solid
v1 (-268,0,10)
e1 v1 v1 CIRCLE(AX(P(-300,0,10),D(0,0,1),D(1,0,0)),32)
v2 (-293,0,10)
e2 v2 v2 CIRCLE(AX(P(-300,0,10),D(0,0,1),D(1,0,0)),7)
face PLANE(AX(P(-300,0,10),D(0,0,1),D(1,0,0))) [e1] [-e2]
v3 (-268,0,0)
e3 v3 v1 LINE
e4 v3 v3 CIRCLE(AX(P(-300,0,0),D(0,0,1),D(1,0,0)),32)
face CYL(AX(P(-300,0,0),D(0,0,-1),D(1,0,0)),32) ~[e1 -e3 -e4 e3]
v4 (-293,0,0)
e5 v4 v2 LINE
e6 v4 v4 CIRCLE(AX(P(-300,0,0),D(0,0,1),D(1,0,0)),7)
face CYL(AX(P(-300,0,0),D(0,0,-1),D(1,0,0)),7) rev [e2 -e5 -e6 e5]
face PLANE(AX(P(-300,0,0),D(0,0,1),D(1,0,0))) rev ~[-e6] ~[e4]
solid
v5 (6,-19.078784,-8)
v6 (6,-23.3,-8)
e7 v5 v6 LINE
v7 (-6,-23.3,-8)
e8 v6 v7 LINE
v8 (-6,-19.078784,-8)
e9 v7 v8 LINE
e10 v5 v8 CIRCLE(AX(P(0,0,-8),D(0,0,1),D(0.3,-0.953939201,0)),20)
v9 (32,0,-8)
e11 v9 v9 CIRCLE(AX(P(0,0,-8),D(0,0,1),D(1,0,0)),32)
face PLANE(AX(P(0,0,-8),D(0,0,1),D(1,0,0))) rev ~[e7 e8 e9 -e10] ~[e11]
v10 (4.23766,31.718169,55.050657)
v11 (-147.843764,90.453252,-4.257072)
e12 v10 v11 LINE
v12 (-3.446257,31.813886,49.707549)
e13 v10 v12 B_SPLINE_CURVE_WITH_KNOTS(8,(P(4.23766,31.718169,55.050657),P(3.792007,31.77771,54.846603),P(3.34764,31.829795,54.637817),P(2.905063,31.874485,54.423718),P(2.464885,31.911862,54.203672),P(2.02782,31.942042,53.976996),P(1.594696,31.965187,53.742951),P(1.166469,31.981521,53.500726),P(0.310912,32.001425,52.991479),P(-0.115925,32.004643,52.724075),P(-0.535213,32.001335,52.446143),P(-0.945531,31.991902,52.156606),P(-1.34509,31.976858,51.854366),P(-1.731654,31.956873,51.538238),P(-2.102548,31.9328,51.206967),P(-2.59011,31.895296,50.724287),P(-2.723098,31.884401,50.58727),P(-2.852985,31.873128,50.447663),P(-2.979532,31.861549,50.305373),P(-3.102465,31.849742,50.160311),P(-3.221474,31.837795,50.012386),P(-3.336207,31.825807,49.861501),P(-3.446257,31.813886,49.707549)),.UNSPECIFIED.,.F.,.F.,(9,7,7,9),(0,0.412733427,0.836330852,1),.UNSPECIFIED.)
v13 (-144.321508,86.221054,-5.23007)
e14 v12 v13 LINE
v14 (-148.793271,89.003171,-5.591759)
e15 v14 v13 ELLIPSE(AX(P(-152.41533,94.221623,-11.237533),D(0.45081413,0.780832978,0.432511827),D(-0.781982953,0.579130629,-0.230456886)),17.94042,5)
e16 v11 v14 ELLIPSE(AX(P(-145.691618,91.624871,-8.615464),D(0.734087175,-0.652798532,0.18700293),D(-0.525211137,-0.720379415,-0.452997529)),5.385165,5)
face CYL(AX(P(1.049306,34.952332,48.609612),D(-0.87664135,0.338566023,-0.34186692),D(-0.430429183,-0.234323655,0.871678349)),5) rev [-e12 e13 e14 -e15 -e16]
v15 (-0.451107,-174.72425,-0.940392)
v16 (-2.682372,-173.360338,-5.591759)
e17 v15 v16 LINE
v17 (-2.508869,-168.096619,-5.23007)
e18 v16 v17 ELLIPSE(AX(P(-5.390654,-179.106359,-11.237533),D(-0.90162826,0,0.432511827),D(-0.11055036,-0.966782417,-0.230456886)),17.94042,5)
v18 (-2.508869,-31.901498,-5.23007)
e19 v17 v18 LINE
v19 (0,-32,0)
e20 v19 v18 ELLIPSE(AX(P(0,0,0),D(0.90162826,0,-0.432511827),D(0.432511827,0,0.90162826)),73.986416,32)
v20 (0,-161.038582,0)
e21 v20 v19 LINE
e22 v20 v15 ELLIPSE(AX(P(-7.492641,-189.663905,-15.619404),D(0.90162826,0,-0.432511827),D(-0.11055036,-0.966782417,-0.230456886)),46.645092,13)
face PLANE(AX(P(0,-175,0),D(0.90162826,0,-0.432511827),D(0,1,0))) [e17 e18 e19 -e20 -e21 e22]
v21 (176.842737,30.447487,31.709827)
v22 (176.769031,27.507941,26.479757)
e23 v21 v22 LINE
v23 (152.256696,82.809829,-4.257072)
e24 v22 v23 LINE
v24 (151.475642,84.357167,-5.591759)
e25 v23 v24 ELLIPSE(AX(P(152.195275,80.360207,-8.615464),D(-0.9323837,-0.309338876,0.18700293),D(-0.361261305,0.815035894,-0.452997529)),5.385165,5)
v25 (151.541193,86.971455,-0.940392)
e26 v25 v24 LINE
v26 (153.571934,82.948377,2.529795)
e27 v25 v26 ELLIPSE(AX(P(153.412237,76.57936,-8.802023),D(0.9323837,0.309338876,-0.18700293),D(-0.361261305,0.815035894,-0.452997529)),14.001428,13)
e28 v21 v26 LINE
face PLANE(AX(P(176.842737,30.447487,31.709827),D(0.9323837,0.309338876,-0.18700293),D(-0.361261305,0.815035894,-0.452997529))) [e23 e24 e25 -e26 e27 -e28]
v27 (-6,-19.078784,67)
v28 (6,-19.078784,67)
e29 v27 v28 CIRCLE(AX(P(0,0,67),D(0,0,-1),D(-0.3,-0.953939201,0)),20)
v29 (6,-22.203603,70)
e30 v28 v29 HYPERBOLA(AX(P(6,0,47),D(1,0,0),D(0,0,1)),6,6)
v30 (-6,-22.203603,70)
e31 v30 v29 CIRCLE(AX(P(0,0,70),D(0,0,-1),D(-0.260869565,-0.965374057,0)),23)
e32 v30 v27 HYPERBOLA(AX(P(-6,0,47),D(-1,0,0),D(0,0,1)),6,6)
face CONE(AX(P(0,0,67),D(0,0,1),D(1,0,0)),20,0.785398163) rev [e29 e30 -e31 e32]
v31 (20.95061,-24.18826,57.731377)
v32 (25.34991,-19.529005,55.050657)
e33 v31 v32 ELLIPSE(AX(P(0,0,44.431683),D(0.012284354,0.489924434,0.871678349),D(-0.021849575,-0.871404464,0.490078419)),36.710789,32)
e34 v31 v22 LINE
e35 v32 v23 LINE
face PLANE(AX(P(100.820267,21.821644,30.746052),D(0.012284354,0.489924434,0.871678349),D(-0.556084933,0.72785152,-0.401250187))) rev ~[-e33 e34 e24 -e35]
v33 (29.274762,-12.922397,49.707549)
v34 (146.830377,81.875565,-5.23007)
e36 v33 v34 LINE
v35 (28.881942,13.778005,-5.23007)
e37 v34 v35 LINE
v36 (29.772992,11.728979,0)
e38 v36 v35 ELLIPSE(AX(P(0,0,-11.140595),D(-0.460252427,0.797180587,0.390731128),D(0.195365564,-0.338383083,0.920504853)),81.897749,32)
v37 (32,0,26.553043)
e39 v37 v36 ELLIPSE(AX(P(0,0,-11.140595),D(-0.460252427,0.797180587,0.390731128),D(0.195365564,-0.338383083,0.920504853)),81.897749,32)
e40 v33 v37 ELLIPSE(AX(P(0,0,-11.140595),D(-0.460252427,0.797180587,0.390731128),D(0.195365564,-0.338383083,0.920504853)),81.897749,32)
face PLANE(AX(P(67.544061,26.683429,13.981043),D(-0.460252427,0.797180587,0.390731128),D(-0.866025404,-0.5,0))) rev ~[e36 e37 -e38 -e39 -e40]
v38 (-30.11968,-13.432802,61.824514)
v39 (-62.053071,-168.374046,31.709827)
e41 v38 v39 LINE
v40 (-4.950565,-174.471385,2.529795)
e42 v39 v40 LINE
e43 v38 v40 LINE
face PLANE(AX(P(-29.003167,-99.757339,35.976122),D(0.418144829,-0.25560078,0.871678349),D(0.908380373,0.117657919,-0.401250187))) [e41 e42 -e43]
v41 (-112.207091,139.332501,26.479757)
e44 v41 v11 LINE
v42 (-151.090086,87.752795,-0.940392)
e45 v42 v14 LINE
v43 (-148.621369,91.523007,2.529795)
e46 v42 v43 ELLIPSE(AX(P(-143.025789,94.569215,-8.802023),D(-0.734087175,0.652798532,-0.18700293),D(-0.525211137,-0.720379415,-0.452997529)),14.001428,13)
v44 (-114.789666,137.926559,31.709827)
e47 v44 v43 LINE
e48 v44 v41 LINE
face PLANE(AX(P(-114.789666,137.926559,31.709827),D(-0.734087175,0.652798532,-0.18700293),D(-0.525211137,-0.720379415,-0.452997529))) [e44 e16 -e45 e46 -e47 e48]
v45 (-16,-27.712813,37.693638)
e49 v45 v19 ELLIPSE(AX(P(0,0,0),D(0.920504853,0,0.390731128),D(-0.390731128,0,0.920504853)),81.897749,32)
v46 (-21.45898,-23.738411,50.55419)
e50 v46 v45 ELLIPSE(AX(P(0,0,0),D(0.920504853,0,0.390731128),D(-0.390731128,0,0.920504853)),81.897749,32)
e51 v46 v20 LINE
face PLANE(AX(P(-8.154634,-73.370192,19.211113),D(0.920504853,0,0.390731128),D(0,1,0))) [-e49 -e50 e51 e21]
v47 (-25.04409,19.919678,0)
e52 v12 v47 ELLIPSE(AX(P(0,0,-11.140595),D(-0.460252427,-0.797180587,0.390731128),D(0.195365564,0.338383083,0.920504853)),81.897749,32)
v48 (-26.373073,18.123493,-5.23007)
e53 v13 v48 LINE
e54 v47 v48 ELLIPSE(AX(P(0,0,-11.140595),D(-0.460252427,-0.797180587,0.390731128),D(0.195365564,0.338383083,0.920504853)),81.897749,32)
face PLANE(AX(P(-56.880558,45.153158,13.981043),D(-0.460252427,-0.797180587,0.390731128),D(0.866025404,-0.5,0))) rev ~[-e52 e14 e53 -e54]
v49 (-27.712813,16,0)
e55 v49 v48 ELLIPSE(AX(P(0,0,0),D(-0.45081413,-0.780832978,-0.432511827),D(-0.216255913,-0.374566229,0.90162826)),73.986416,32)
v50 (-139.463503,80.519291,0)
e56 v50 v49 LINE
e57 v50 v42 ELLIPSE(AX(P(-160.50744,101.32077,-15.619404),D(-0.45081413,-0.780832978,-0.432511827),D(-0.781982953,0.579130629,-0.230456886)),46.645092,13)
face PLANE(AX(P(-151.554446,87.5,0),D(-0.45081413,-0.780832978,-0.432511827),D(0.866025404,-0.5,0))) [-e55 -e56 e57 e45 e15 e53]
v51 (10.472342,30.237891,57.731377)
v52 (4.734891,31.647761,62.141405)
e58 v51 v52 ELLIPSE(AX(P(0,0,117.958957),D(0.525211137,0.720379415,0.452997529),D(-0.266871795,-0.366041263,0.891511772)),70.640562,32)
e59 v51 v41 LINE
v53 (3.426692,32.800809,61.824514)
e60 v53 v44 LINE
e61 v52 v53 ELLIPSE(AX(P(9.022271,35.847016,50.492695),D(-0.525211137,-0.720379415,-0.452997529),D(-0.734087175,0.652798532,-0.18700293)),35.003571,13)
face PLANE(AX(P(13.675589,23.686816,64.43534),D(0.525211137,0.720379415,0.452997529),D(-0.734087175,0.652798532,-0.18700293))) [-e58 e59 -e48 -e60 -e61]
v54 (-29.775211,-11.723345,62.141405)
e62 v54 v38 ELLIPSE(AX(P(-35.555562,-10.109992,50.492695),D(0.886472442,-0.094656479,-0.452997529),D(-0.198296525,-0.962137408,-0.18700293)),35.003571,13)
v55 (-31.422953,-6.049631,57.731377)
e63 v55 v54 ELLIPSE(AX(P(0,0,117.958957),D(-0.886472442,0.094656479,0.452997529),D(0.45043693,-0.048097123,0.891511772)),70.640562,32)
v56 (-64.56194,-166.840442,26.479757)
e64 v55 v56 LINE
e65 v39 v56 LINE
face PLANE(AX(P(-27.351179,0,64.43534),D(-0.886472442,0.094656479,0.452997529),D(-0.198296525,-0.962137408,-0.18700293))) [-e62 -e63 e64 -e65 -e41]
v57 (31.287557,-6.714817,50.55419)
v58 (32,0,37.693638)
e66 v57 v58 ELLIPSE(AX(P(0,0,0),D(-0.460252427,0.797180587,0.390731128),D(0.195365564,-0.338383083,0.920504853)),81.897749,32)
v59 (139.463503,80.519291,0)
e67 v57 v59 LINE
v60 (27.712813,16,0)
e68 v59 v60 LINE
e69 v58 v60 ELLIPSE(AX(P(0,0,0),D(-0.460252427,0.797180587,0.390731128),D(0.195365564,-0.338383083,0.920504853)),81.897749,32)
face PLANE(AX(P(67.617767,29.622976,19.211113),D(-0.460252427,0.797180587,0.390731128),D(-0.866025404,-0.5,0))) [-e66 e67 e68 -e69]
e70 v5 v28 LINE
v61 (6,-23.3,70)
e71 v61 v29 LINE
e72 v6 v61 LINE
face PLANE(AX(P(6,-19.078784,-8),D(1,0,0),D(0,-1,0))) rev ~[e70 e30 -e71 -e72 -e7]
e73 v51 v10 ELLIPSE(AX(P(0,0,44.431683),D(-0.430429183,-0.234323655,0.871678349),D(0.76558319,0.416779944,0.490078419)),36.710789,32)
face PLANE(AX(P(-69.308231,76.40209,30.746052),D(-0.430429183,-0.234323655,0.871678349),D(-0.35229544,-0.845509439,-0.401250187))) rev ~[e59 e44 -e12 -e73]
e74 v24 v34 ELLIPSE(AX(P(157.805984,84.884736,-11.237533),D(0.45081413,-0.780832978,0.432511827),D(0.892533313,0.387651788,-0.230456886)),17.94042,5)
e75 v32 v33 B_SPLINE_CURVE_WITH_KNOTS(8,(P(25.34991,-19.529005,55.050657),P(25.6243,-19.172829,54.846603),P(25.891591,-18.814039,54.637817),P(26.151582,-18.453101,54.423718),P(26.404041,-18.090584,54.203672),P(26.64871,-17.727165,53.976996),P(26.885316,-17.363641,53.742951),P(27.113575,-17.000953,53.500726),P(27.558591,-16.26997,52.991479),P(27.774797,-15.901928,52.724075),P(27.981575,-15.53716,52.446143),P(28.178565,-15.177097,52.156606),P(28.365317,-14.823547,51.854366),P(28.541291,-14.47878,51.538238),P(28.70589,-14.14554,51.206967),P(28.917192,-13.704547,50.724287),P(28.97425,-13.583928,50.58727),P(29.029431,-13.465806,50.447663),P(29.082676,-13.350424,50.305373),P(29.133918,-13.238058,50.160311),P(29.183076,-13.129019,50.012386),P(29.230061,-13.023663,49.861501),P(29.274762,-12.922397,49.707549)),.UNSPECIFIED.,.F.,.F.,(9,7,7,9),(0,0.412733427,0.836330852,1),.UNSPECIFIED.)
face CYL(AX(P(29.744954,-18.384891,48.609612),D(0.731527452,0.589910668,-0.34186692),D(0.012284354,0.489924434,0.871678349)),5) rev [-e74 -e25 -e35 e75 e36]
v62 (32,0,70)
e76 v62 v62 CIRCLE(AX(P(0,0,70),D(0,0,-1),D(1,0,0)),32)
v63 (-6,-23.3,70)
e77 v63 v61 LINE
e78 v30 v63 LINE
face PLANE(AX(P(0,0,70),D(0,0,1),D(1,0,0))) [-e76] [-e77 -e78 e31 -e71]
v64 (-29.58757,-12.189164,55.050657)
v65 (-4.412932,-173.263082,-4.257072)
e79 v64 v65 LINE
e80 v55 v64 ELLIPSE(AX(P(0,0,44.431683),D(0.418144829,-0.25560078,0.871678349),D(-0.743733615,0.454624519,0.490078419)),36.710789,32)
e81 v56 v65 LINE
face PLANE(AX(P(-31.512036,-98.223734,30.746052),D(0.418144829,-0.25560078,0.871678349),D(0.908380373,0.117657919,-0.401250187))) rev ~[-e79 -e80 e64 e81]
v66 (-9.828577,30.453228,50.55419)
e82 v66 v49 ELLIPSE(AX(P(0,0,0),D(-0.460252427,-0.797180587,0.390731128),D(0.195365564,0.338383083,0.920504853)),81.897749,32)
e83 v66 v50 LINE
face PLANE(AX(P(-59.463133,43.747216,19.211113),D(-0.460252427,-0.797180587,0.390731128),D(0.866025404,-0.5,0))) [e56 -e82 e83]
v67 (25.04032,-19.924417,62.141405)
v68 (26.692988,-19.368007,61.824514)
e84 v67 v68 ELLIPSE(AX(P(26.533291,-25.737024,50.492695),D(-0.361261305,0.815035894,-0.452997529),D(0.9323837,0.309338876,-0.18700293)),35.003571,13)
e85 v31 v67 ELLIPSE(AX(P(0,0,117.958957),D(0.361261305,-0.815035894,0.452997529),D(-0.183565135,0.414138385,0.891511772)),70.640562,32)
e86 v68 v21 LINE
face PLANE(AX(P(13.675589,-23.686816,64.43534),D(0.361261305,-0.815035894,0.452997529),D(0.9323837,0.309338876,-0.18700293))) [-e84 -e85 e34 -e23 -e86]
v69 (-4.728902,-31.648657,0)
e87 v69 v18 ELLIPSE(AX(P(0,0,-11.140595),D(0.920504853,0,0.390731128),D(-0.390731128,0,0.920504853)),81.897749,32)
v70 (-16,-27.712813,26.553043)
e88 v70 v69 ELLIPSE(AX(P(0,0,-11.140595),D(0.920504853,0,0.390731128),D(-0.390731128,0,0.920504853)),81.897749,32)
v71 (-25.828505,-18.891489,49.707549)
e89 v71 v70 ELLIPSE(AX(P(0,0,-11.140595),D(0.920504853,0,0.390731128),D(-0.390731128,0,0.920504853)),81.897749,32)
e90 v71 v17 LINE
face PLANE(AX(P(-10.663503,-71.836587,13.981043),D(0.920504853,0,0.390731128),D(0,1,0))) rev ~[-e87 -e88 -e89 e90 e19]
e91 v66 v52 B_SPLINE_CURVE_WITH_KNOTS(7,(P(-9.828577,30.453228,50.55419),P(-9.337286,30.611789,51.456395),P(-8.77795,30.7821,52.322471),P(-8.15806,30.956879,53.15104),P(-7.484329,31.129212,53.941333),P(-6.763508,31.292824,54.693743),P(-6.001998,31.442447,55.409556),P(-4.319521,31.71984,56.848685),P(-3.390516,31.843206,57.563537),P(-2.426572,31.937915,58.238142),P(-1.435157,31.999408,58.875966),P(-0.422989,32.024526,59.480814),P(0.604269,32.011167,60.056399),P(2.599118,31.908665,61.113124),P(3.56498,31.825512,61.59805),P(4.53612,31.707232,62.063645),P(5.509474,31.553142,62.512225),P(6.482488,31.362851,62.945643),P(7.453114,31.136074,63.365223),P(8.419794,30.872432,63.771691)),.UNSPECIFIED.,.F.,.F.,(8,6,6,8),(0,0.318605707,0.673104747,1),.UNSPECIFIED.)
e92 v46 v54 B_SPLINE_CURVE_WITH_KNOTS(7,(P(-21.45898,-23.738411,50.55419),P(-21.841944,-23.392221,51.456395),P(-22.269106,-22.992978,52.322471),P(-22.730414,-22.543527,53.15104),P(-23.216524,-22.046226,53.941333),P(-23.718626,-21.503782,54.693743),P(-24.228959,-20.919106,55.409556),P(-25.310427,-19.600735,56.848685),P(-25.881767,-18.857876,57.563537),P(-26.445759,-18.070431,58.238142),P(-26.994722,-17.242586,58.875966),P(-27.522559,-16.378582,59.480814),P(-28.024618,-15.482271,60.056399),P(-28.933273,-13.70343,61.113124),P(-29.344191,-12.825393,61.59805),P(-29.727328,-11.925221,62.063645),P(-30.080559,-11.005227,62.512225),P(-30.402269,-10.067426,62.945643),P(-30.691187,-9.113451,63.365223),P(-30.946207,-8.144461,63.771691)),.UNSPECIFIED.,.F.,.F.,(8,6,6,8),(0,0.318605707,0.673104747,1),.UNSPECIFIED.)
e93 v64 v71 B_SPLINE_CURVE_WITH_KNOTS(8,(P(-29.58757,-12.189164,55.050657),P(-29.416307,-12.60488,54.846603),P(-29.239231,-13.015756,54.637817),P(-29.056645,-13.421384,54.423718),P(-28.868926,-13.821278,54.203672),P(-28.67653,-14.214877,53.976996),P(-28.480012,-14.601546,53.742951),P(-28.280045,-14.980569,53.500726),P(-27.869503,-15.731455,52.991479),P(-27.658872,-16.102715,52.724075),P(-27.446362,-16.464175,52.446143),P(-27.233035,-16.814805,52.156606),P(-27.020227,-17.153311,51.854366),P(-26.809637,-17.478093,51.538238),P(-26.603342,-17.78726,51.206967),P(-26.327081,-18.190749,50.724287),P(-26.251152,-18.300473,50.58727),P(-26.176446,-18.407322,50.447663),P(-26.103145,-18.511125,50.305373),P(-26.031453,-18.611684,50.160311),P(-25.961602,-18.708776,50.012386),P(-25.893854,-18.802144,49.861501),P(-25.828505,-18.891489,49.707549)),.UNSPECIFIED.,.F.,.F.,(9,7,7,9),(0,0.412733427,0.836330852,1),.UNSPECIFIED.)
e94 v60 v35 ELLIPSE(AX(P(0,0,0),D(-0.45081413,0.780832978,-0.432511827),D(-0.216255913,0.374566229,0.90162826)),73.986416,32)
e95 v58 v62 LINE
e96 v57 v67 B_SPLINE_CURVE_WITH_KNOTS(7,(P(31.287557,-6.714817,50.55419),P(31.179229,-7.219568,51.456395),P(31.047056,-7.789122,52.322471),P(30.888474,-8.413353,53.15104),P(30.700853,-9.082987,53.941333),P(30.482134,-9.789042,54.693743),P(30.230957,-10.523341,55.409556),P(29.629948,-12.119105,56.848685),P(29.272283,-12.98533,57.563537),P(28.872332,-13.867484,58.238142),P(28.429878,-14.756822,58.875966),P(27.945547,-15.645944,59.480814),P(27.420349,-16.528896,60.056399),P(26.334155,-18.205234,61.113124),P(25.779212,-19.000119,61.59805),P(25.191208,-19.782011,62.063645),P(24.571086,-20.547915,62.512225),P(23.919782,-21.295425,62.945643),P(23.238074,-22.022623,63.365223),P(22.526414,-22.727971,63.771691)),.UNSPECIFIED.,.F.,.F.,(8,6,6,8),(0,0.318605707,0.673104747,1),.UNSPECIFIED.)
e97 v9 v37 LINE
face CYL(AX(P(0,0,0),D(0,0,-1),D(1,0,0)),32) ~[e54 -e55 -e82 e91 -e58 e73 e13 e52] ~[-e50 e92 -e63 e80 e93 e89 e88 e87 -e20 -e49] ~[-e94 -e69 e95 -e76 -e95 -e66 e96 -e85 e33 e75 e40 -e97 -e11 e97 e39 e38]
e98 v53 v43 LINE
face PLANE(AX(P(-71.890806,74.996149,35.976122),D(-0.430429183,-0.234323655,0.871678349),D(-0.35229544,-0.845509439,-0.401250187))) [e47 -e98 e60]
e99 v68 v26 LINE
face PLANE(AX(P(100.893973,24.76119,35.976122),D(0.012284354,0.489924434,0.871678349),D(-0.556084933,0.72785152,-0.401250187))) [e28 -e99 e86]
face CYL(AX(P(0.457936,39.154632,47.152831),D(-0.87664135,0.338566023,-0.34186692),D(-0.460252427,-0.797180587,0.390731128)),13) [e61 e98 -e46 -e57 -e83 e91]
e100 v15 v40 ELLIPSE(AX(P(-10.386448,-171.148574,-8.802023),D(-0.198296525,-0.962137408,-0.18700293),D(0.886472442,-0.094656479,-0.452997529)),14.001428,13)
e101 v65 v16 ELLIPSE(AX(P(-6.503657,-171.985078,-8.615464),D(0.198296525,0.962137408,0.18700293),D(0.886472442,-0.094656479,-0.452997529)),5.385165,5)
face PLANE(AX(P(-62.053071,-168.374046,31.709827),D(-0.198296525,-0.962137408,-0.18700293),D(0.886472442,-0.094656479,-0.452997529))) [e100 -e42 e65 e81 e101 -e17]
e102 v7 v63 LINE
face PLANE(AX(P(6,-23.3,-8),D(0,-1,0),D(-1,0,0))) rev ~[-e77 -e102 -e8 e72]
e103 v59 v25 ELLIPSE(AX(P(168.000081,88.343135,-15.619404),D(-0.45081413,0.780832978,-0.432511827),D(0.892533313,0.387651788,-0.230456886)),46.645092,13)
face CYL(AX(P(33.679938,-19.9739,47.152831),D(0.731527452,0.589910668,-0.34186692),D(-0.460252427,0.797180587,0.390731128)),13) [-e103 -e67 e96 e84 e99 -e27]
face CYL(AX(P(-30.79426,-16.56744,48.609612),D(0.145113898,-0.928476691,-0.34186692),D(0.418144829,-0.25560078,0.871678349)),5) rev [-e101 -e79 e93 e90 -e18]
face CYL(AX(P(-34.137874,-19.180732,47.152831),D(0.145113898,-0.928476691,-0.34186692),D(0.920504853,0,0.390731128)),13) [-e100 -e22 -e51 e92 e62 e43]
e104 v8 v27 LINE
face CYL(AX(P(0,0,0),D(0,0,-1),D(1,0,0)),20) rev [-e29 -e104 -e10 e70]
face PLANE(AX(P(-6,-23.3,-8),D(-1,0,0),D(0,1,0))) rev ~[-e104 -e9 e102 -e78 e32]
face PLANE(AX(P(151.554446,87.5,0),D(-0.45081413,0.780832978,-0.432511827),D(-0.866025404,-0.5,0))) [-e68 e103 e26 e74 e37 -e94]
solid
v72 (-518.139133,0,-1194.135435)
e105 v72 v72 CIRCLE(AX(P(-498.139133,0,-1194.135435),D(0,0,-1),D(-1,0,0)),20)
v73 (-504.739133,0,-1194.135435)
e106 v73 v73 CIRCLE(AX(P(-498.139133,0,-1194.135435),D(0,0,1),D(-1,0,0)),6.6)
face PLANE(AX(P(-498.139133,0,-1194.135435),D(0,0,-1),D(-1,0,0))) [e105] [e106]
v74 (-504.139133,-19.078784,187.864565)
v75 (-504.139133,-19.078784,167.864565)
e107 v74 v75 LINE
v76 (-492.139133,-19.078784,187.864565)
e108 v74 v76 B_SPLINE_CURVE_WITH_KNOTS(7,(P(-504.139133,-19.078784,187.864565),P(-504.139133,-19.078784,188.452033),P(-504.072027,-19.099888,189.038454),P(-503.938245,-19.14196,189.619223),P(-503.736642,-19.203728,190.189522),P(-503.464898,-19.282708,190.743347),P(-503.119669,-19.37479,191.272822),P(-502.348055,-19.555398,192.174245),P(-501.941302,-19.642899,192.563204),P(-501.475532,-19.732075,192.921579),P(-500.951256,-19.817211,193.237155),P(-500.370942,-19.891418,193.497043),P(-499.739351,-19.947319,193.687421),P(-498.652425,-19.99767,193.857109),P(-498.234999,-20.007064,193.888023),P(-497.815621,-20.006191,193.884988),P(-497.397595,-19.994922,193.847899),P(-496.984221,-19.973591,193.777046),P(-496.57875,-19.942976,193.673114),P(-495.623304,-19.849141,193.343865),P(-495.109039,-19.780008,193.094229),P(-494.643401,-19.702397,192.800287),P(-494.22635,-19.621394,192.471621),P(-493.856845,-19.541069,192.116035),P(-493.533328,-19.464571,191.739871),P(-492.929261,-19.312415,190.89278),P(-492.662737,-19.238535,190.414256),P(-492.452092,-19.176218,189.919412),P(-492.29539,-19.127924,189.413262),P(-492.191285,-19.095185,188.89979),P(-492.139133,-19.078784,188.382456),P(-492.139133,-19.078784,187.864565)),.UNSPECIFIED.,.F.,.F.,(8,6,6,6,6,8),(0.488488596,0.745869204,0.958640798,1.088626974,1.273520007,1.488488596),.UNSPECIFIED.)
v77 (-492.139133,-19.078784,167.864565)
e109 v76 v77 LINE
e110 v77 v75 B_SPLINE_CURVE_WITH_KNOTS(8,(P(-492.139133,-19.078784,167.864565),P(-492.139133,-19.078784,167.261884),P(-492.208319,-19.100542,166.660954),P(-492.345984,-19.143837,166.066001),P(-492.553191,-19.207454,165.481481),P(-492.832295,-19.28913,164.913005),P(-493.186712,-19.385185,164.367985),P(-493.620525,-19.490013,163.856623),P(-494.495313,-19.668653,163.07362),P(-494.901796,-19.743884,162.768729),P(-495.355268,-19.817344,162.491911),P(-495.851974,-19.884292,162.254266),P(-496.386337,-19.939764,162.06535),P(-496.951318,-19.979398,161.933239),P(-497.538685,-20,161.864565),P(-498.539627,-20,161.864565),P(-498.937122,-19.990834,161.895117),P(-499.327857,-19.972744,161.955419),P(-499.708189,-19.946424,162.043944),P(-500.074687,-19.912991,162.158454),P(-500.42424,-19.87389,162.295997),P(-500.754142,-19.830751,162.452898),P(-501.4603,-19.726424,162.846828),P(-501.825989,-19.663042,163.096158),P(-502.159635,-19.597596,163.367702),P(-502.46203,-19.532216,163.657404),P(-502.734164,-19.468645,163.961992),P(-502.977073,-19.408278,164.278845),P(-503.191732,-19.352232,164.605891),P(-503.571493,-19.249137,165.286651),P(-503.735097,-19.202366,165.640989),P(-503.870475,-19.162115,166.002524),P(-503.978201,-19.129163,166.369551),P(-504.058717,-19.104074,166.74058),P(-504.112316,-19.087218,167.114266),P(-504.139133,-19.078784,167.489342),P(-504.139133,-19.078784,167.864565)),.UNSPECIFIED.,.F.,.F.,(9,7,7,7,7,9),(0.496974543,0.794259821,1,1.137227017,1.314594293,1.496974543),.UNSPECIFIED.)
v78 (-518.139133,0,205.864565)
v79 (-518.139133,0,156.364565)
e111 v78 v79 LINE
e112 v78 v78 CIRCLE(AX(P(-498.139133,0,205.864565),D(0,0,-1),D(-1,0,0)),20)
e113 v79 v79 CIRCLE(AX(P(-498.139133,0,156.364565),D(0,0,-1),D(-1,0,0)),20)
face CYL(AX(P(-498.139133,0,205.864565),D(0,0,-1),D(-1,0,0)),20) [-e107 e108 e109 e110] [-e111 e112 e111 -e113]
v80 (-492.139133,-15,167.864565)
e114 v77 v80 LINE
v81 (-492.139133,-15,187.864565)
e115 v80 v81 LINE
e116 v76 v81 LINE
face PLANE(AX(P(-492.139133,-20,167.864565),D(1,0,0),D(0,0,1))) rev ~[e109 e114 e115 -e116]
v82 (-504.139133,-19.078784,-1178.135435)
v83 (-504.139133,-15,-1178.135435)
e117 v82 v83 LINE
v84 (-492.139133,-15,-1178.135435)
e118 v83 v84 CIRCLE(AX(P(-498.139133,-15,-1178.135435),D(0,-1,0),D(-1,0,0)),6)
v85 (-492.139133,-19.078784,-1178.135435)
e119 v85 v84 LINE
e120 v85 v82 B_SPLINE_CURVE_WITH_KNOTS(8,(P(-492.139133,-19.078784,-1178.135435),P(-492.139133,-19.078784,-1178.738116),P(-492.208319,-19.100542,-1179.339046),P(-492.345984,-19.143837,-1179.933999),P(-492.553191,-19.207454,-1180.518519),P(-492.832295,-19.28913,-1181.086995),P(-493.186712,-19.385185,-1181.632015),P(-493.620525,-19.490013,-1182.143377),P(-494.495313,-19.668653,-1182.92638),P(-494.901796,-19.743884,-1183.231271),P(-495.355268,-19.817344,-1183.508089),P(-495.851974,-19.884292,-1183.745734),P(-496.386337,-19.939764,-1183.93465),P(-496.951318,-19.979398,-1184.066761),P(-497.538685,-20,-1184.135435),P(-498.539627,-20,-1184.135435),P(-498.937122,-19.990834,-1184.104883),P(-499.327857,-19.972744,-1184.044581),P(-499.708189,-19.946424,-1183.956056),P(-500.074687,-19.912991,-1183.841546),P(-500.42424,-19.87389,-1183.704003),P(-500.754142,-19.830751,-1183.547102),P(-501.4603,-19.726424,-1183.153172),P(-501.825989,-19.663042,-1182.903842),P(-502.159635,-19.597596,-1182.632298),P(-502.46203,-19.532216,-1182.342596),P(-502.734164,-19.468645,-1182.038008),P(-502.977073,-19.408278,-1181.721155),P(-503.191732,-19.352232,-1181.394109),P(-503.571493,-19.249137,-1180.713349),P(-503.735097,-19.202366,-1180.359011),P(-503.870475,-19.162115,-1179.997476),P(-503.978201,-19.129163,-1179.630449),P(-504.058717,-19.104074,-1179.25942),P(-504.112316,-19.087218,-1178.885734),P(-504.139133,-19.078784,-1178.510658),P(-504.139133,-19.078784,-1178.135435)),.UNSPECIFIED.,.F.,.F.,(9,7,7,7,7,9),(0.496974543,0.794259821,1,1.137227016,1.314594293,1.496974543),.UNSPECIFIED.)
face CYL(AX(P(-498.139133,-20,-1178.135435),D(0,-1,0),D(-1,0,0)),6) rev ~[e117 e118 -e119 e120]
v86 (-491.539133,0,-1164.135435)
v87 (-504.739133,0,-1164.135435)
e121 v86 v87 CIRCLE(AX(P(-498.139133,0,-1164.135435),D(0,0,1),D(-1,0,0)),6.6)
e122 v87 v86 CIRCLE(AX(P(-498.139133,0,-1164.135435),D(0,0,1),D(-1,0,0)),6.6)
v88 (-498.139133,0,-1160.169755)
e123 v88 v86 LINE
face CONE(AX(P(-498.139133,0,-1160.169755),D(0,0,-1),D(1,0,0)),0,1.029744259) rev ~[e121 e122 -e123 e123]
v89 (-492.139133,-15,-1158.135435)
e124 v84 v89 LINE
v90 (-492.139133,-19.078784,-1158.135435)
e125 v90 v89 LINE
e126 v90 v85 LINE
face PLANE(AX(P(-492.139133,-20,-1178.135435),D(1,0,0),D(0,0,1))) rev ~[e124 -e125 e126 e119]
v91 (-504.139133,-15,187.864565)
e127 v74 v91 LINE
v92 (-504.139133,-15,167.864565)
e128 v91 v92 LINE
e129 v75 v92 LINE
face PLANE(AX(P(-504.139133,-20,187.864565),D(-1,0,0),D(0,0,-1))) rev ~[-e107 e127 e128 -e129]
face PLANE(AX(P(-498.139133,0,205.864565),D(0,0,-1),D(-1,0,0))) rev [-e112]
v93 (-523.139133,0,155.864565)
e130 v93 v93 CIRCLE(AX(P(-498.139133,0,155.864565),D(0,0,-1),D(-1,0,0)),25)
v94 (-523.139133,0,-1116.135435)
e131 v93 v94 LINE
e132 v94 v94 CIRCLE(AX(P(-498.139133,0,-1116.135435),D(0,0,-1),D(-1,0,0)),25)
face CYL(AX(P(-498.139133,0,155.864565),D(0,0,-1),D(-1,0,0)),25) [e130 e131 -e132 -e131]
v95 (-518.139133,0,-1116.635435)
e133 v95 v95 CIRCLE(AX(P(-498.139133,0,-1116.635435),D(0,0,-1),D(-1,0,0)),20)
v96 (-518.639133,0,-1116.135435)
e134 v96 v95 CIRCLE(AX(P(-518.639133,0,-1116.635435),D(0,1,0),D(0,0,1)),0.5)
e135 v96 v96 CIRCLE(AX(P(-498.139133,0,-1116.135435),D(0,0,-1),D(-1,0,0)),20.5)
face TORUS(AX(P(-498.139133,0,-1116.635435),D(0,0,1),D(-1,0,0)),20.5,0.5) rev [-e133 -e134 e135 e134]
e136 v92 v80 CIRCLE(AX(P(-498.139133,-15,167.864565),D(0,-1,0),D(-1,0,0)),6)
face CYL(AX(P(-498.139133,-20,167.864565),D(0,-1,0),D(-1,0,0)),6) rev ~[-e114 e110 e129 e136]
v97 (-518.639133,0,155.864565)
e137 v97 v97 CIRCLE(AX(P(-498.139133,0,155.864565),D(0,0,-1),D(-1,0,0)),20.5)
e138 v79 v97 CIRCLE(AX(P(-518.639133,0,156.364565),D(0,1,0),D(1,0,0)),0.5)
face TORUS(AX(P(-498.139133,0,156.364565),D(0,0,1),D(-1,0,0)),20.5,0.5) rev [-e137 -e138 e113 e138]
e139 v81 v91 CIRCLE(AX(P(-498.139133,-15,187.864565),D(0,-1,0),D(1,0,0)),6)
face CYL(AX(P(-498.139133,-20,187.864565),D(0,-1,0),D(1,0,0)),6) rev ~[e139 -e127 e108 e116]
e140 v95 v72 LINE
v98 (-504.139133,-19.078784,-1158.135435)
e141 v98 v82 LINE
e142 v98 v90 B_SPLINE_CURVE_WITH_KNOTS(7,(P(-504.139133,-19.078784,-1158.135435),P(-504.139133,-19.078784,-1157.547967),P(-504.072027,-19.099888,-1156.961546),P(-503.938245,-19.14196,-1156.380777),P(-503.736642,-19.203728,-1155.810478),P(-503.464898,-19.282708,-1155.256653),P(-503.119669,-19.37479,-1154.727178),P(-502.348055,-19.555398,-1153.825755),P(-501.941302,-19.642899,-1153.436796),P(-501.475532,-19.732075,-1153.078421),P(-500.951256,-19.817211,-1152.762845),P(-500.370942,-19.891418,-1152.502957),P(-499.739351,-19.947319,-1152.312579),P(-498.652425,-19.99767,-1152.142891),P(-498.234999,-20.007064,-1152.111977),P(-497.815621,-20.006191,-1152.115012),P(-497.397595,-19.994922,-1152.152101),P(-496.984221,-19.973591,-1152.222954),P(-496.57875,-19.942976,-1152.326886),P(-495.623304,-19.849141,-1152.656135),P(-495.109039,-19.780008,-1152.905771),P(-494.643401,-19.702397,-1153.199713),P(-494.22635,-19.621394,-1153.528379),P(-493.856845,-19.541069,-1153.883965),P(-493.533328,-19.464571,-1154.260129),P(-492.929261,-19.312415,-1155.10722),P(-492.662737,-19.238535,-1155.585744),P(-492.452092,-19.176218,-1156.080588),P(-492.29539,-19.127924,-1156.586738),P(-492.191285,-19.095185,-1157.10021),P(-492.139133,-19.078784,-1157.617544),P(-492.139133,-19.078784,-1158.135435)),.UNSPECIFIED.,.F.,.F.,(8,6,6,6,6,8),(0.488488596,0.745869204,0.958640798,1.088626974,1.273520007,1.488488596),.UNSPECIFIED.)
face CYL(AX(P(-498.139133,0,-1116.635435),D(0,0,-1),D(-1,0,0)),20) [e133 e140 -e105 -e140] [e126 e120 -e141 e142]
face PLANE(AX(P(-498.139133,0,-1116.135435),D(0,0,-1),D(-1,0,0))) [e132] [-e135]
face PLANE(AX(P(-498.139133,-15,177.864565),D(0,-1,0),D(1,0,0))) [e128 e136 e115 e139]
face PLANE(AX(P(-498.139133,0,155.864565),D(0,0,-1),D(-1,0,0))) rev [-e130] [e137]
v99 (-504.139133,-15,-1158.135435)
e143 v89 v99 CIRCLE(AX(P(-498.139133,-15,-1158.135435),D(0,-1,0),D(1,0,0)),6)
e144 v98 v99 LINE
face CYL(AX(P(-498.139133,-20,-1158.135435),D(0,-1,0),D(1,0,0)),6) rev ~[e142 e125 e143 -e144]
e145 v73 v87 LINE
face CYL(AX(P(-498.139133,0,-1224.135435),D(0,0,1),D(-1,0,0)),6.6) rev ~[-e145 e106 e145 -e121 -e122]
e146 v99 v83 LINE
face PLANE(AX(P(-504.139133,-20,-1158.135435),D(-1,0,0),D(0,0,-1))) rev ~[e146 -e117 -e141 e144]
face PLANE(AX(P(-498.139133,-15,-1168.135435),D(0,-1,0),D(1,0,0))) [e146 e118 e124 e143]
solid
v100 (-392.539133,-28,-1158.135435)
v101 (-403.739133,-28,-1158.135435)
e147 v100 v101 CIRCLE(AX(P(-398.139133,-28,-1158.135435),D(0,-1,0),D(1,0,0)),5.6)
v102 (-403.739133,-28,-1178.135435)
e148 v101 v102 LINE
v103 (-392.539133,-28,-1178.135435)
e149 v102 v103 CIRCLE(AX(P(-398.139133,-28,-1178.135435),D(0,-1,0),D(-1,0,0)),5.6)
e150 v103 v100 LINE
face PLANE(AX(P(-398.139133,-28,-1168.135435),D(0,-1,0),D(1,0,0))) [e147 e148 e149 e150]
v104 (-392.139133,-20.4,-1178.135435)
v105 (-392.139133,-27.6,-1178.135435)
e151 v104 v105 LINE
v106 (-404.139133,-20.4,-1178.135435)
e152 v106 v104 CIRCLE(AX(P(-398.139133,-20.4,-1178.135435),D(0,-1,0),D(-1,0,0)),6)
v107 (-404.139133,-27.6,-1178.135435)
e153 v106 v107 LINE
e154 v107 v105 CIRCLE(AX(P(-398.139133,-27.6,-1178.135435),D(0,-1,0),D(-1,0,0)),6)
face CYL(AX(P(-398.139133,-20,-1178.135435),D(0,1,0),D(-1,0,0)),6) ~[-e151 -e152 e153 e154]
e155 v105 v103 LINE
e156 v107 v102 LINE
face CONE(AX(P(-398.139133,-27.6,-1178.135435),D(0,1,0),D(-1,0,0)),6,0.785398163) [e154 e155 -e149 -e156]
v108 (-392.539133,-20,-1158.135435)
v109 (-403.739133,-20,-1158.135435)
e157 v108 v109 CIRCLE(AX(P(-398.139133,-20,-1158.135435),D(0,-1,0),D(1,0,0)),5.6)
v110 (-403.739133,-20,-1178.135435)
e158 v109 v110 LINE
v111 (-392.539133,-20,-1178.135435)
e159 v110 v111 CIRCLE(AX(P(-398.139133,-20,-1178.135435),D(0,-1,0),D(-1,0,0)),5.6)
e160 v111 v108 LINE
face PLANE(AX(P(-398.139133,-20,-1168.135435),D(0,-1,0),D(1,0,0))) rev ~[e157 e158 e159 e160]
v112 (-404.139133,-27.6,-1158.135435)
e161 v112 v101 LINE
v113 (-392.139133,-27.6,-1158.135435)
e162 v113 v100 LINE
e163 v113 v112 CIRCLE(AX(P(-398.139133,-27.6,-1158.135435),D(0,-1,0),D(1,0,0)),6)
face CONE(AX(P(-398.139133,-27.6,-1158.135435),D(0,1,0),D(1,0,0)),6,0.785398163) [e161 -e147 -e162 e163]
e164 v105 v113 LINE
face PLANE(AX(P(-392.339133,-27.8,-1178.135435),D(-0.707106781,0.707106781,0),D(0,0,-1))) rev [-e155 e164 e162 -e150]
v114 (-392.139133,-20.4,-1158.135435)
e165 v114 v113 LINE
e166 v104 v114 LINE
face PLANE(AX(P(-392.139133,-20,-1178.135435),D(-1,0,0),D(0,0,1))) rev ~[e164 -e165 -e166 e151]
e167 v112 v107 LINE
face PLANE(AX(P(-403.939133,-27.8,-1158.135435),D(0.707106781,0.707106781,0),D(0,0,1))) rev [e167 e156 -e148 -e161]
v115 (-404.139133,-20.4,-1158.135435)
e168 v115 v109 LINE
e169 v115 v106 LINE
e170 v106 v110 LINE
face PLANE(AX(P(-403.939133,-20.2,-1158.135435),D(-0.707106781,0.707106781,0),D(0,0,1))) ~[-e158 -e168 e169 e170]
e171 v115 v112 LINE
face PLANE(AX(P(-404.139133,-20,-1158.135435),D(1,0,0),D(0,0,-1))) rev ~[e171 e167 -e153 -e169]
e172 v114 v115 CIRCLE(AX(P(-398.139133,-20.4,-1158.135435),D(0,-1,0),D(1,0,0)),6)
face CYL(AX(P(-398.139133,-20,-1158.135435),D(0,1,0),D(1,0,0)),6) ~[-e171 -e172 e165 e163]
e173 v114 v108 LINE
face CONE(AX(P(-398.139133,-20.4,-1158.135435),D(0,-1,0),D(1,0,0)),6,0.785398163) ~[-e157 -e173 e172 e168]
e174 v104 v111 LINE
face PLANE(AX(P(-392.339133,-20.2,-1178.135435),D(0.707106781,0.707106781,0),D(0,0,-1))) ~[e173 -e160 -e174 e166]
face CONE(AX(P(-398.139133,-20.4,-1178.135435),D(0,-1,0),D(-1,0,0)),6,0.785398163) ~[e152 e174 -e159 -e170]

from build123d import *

# Parameters (mm, degrees)
F12_DEPTH      = 6
F13_R          = 32
F14_DEPTH      = 100
F15_R          = 32
F15_R_2        = 20
F16_DEPTH      = 70
F16_DEPTH_BACK = 8
F17_SIZE       = 3
F19_R          = 5
F20_R          = 13
F21_COUNT      = 3
F26_DEPTH      = 5
F29_DEPTH      = 213.865565134
F31_DEPTH      = 8
F32_SIZE       = 0.4
F33_R          = 32
F33_R_2        = 7
F34_DEPTH      = 10
F35_D          = 13.2
F35_DEPTH      = 30
F35_TIP        = 3.9656800856
F36_DEPTH      = 5


with BuildPart() as f12:
    # F11 (on line) + F9 (on line) → F12 (new body)
    with BuildSketch(Plane(origin=(18.7036752691, -11.4330577599, 38.9902914797), x_dir=(0.9083803729, 0.1176579191, -0.4012501866), z_dir=(0.4181448291, -0.2556007798, 0.8716783485))):
        Polygon((-20.5901358366, -167.9293339421), (-50.6999662671, 18.1308662927), (-88.9019056321, -152.6485581961), align=None)
    with BuildSketch(Plane(origin=(0, 0, 0), x_dir=(0, 1, 0), z_dir=(0.9205048535, 0, 0.3907311285))):
        Polygon((-175, 0), (0, 0), (0, 70), align=None)
    extrude(amount=-F12_DEPTH, dir=(0.4181448291, -0.2556007798, 0.8716783485))

    # F13 (on Top) → F14 (cut, symmetric)
    with BuildSketch(Plane.XY):
        Circle(F13_R)
    extrude(amount=F14_DEPTH, both=True, mode=Mode.SUBTRACT)

    # F15 (on Top) → F16 (join, two sides)
    with BuildSketch(Plane.XY) as f16_sk:
        Circle(F15_R)
        Circle(F15_R_2, mode=Mode.SUBTRACT)
    extrude(amount=F16_DEPTH)
    extrude(f16_sk.sketch, amount=-F16_DEPTH_BACK)

    # F17
    f17_edges = [f12.edges().sort_by_distance(p)[0] for p in [
        (-20, 0, 70),
    ]]
    chamfer(f17_edges, length=F17_SIZE)

    # F18: union 

    # F19
    f19_edges = [f12.edges().sort_by_distance(p)[0] for p in [
        (-14.71205, -95.387247, 23.518824),
    ]]
    fillet(f19_edges, radius=F19_R)

    # F20
    f20_edges = [f12.edges().sort_by_distance(p)[0] for p in [
        (-12.026201, -98.053222, 28.331953),
    ]]
    fillet(f20_edges, radius=F20_R)

    # F21: F12 ×3 about axis
    f21_axis = Axis((0, 0, -8), (0, 0, 1))


with BuildPart() as f12_1:
    add(f12.part)
    for i in range(1, F21_COUNT):
        add(f12.part.rotate(f21_axis, i * 360 / F21_COUNT))

    # F28 (on face) → F29 (cut, through all)
    with BuildSketch(Plane(origin=(0, 0, -8), x_dir=(1, 0, 0), z_dir=(0, 0, -1))):
        with BuildLine():
            Line((-6, 23.3), (-6, 19.0787840283))
            ThreePointArc((-6, 19.0787840283), (0, 20), (6, 19.0787840283))
            Line((6, 19.0787840283), (6, 23.3))
            Line((6, 23.3), (-6, 23.3))
        make_face()
    extrude(amount=-F29_DEPTH, mode=Mode.SUBTRACT)


with BuildPart() as f23:
    # F22 (on Front) → F23 (revolve)
    with BuildSketch(Plane.XZ):
        with BuildLine():
            Line((-498.1391332102, -1194.135434866), (-498.1391332102, 205.864565134))
            Line((-498.1391332102, 205.864565134), (-518.1391332102, 205.864565134))
            Line((-518.1391332102, 205.864565134), (-518.1391332102, 156.364565134))
            ThreePointArc((-518.1391332102, 156.364565134), (-518.2855798196, 156.0110117435), (-518.6391332102, 155.864565134))
            Line((-518.6391332102, 155.864565134), (-523.1391332102, 155.864565134))
            Line((-523.1391332102, 155.864565134), (-523.1391332102, -1116.135434866))
            Line((-523.1391332102, -1116.135434866), (-518.6391332102, -1116.135434866))
            ThreePointArc((-518.6391332102, -1116.135434866), (-518.2855798196, -1116.2818814754), (-518.1391332102, -1116.635434866))
            Line((-518.1391332102, -1116.635434866), (-518.1391332102, -1194.135434866))
            Line((-518.1391332102, -1194.135434866), (-498.1391332102, -1194.135434866))
        make_face()
    revolve(axis=Axis((-498.1391332102, 0, -494.135434866), (0, 0, -1)))

    # F25 (on offset) → F26 (cut)
    with BuildSketch(Plane.XZ.offset(20)):
        with BuildLine():
            Line((-504.1391332102, -1158.135434866), (-504.1391332102, -1178.135434866))
            ThreePointArc((-504.1391332102, -1178.135434866), (-498.1391332102, -1184.135434866), (-492.1391332102, -1178.135434866))
            Line((-492.1391332102, -1178.135434866), (-492.1391332102, -1158.135434866))
            ThreePointArc((-492.1391332102, -1158.135434866), (-498.1391332102, -1152.135434866), (-504.1391332102, -1158.135434866))
        make_face()
    extrude(amount=-F26_DEPTH, mode=Mode.SUBTRACT)

    # F35
    with Locations(Plane(origin=(0, 0, -1194.135434866), x_dir=(1, 0, 0), z_dir=(0, 0, -1))):
        with Locations((-498.1391332102, 0)):
            Hole(F35_D / 2, depth=F35_DEPTH)
            with Locations((0, 0, -(F35_DEPTH + F35_TIP / 2))):  # 118° drill point
                Cone(0, F35_D / 2, F35_TIP, mode=Mode.SUBTRACT)

    # F25 (on offset) → F36 (cut)
    with BuildSketch(Plane.XZ.offset(20)):
        with BuildLine():
            Line((-504.1391332102, 187.864565134), (-504.1391332102, 167.864565134))
            ThreePointArc((-504.1391332102, 167.864565134), (-498.1391332102, 161.864565134), (-492.1391332102, 167.864565134))
            Line((-492.1391332102, 167.864565134), (-492.1391332102, 187.864565134))
            ThreePointArc((-492.1391332102, 187.864565134), (-498.1391332102, 193.864565134), (-504.1391332102, 187.864565134))
        make_face()
    extrude(amount=-F36_DEPTH, mode=Mode.SUBTRACT)


with BuildPart() as f31:
    # F30 (on offset) → F31 (new body)
    with BuildSketch(Plane.XZ.offset(20)):
        with BuildLine():
            Line((-392.1391332102, -1178.135434866), (-392.1391332102, -1158.135434866))
            ThreePointArc((-392.1391332102, -1158.135434866), (-398.1391332102, -1152.135434866), (-404.1391332102, -1158.135434866))
            Line((-404.1391332102, -1158.135434866), (-404.1391332102, -1178.135434866))
            ThreePointArc((-404.1391332102, -1178.135434866), (-398.1391332102, -1184.135434866), (-392.1391332102, -1178.135434866))
        make_face()
    extrude(amount=F31_DEPTH)

    # F32
    f32_edges = [f31.edges().sort_by_distance(p)[0] for p in [
        (-392.139133, -28, -1168.135435),
        (-398.139133, -28, -1152.135435),
        (-404.139133, -28, -1168.135435),
        (-398.139133, -28, -1184.135435),
        (-392.139133, -20, -1168.135435),
        (-398.139133, -20, -1152.135435),
        (-404.139133, -20, -1168.135435),
        (-398.139133, -20, -1184.135435),
    ]]
    chamfer(f32_edges, length=F32_SIZE)


with BuildPart() as f34:
    # F33 (on Top) → F34 (new body)
    with BuildSketch(Plane.XY):
        with Locations((-300, 0)):
            Circle(F33_R)
        with Locations((-300, 0)):
            Circle(F33_R_2, mode=Mode.SUBTRACT)
    extrude(amount=F34_DEPTH)


solid = Compound([f12_1.part, f23.part, f31.part, f34.part])
